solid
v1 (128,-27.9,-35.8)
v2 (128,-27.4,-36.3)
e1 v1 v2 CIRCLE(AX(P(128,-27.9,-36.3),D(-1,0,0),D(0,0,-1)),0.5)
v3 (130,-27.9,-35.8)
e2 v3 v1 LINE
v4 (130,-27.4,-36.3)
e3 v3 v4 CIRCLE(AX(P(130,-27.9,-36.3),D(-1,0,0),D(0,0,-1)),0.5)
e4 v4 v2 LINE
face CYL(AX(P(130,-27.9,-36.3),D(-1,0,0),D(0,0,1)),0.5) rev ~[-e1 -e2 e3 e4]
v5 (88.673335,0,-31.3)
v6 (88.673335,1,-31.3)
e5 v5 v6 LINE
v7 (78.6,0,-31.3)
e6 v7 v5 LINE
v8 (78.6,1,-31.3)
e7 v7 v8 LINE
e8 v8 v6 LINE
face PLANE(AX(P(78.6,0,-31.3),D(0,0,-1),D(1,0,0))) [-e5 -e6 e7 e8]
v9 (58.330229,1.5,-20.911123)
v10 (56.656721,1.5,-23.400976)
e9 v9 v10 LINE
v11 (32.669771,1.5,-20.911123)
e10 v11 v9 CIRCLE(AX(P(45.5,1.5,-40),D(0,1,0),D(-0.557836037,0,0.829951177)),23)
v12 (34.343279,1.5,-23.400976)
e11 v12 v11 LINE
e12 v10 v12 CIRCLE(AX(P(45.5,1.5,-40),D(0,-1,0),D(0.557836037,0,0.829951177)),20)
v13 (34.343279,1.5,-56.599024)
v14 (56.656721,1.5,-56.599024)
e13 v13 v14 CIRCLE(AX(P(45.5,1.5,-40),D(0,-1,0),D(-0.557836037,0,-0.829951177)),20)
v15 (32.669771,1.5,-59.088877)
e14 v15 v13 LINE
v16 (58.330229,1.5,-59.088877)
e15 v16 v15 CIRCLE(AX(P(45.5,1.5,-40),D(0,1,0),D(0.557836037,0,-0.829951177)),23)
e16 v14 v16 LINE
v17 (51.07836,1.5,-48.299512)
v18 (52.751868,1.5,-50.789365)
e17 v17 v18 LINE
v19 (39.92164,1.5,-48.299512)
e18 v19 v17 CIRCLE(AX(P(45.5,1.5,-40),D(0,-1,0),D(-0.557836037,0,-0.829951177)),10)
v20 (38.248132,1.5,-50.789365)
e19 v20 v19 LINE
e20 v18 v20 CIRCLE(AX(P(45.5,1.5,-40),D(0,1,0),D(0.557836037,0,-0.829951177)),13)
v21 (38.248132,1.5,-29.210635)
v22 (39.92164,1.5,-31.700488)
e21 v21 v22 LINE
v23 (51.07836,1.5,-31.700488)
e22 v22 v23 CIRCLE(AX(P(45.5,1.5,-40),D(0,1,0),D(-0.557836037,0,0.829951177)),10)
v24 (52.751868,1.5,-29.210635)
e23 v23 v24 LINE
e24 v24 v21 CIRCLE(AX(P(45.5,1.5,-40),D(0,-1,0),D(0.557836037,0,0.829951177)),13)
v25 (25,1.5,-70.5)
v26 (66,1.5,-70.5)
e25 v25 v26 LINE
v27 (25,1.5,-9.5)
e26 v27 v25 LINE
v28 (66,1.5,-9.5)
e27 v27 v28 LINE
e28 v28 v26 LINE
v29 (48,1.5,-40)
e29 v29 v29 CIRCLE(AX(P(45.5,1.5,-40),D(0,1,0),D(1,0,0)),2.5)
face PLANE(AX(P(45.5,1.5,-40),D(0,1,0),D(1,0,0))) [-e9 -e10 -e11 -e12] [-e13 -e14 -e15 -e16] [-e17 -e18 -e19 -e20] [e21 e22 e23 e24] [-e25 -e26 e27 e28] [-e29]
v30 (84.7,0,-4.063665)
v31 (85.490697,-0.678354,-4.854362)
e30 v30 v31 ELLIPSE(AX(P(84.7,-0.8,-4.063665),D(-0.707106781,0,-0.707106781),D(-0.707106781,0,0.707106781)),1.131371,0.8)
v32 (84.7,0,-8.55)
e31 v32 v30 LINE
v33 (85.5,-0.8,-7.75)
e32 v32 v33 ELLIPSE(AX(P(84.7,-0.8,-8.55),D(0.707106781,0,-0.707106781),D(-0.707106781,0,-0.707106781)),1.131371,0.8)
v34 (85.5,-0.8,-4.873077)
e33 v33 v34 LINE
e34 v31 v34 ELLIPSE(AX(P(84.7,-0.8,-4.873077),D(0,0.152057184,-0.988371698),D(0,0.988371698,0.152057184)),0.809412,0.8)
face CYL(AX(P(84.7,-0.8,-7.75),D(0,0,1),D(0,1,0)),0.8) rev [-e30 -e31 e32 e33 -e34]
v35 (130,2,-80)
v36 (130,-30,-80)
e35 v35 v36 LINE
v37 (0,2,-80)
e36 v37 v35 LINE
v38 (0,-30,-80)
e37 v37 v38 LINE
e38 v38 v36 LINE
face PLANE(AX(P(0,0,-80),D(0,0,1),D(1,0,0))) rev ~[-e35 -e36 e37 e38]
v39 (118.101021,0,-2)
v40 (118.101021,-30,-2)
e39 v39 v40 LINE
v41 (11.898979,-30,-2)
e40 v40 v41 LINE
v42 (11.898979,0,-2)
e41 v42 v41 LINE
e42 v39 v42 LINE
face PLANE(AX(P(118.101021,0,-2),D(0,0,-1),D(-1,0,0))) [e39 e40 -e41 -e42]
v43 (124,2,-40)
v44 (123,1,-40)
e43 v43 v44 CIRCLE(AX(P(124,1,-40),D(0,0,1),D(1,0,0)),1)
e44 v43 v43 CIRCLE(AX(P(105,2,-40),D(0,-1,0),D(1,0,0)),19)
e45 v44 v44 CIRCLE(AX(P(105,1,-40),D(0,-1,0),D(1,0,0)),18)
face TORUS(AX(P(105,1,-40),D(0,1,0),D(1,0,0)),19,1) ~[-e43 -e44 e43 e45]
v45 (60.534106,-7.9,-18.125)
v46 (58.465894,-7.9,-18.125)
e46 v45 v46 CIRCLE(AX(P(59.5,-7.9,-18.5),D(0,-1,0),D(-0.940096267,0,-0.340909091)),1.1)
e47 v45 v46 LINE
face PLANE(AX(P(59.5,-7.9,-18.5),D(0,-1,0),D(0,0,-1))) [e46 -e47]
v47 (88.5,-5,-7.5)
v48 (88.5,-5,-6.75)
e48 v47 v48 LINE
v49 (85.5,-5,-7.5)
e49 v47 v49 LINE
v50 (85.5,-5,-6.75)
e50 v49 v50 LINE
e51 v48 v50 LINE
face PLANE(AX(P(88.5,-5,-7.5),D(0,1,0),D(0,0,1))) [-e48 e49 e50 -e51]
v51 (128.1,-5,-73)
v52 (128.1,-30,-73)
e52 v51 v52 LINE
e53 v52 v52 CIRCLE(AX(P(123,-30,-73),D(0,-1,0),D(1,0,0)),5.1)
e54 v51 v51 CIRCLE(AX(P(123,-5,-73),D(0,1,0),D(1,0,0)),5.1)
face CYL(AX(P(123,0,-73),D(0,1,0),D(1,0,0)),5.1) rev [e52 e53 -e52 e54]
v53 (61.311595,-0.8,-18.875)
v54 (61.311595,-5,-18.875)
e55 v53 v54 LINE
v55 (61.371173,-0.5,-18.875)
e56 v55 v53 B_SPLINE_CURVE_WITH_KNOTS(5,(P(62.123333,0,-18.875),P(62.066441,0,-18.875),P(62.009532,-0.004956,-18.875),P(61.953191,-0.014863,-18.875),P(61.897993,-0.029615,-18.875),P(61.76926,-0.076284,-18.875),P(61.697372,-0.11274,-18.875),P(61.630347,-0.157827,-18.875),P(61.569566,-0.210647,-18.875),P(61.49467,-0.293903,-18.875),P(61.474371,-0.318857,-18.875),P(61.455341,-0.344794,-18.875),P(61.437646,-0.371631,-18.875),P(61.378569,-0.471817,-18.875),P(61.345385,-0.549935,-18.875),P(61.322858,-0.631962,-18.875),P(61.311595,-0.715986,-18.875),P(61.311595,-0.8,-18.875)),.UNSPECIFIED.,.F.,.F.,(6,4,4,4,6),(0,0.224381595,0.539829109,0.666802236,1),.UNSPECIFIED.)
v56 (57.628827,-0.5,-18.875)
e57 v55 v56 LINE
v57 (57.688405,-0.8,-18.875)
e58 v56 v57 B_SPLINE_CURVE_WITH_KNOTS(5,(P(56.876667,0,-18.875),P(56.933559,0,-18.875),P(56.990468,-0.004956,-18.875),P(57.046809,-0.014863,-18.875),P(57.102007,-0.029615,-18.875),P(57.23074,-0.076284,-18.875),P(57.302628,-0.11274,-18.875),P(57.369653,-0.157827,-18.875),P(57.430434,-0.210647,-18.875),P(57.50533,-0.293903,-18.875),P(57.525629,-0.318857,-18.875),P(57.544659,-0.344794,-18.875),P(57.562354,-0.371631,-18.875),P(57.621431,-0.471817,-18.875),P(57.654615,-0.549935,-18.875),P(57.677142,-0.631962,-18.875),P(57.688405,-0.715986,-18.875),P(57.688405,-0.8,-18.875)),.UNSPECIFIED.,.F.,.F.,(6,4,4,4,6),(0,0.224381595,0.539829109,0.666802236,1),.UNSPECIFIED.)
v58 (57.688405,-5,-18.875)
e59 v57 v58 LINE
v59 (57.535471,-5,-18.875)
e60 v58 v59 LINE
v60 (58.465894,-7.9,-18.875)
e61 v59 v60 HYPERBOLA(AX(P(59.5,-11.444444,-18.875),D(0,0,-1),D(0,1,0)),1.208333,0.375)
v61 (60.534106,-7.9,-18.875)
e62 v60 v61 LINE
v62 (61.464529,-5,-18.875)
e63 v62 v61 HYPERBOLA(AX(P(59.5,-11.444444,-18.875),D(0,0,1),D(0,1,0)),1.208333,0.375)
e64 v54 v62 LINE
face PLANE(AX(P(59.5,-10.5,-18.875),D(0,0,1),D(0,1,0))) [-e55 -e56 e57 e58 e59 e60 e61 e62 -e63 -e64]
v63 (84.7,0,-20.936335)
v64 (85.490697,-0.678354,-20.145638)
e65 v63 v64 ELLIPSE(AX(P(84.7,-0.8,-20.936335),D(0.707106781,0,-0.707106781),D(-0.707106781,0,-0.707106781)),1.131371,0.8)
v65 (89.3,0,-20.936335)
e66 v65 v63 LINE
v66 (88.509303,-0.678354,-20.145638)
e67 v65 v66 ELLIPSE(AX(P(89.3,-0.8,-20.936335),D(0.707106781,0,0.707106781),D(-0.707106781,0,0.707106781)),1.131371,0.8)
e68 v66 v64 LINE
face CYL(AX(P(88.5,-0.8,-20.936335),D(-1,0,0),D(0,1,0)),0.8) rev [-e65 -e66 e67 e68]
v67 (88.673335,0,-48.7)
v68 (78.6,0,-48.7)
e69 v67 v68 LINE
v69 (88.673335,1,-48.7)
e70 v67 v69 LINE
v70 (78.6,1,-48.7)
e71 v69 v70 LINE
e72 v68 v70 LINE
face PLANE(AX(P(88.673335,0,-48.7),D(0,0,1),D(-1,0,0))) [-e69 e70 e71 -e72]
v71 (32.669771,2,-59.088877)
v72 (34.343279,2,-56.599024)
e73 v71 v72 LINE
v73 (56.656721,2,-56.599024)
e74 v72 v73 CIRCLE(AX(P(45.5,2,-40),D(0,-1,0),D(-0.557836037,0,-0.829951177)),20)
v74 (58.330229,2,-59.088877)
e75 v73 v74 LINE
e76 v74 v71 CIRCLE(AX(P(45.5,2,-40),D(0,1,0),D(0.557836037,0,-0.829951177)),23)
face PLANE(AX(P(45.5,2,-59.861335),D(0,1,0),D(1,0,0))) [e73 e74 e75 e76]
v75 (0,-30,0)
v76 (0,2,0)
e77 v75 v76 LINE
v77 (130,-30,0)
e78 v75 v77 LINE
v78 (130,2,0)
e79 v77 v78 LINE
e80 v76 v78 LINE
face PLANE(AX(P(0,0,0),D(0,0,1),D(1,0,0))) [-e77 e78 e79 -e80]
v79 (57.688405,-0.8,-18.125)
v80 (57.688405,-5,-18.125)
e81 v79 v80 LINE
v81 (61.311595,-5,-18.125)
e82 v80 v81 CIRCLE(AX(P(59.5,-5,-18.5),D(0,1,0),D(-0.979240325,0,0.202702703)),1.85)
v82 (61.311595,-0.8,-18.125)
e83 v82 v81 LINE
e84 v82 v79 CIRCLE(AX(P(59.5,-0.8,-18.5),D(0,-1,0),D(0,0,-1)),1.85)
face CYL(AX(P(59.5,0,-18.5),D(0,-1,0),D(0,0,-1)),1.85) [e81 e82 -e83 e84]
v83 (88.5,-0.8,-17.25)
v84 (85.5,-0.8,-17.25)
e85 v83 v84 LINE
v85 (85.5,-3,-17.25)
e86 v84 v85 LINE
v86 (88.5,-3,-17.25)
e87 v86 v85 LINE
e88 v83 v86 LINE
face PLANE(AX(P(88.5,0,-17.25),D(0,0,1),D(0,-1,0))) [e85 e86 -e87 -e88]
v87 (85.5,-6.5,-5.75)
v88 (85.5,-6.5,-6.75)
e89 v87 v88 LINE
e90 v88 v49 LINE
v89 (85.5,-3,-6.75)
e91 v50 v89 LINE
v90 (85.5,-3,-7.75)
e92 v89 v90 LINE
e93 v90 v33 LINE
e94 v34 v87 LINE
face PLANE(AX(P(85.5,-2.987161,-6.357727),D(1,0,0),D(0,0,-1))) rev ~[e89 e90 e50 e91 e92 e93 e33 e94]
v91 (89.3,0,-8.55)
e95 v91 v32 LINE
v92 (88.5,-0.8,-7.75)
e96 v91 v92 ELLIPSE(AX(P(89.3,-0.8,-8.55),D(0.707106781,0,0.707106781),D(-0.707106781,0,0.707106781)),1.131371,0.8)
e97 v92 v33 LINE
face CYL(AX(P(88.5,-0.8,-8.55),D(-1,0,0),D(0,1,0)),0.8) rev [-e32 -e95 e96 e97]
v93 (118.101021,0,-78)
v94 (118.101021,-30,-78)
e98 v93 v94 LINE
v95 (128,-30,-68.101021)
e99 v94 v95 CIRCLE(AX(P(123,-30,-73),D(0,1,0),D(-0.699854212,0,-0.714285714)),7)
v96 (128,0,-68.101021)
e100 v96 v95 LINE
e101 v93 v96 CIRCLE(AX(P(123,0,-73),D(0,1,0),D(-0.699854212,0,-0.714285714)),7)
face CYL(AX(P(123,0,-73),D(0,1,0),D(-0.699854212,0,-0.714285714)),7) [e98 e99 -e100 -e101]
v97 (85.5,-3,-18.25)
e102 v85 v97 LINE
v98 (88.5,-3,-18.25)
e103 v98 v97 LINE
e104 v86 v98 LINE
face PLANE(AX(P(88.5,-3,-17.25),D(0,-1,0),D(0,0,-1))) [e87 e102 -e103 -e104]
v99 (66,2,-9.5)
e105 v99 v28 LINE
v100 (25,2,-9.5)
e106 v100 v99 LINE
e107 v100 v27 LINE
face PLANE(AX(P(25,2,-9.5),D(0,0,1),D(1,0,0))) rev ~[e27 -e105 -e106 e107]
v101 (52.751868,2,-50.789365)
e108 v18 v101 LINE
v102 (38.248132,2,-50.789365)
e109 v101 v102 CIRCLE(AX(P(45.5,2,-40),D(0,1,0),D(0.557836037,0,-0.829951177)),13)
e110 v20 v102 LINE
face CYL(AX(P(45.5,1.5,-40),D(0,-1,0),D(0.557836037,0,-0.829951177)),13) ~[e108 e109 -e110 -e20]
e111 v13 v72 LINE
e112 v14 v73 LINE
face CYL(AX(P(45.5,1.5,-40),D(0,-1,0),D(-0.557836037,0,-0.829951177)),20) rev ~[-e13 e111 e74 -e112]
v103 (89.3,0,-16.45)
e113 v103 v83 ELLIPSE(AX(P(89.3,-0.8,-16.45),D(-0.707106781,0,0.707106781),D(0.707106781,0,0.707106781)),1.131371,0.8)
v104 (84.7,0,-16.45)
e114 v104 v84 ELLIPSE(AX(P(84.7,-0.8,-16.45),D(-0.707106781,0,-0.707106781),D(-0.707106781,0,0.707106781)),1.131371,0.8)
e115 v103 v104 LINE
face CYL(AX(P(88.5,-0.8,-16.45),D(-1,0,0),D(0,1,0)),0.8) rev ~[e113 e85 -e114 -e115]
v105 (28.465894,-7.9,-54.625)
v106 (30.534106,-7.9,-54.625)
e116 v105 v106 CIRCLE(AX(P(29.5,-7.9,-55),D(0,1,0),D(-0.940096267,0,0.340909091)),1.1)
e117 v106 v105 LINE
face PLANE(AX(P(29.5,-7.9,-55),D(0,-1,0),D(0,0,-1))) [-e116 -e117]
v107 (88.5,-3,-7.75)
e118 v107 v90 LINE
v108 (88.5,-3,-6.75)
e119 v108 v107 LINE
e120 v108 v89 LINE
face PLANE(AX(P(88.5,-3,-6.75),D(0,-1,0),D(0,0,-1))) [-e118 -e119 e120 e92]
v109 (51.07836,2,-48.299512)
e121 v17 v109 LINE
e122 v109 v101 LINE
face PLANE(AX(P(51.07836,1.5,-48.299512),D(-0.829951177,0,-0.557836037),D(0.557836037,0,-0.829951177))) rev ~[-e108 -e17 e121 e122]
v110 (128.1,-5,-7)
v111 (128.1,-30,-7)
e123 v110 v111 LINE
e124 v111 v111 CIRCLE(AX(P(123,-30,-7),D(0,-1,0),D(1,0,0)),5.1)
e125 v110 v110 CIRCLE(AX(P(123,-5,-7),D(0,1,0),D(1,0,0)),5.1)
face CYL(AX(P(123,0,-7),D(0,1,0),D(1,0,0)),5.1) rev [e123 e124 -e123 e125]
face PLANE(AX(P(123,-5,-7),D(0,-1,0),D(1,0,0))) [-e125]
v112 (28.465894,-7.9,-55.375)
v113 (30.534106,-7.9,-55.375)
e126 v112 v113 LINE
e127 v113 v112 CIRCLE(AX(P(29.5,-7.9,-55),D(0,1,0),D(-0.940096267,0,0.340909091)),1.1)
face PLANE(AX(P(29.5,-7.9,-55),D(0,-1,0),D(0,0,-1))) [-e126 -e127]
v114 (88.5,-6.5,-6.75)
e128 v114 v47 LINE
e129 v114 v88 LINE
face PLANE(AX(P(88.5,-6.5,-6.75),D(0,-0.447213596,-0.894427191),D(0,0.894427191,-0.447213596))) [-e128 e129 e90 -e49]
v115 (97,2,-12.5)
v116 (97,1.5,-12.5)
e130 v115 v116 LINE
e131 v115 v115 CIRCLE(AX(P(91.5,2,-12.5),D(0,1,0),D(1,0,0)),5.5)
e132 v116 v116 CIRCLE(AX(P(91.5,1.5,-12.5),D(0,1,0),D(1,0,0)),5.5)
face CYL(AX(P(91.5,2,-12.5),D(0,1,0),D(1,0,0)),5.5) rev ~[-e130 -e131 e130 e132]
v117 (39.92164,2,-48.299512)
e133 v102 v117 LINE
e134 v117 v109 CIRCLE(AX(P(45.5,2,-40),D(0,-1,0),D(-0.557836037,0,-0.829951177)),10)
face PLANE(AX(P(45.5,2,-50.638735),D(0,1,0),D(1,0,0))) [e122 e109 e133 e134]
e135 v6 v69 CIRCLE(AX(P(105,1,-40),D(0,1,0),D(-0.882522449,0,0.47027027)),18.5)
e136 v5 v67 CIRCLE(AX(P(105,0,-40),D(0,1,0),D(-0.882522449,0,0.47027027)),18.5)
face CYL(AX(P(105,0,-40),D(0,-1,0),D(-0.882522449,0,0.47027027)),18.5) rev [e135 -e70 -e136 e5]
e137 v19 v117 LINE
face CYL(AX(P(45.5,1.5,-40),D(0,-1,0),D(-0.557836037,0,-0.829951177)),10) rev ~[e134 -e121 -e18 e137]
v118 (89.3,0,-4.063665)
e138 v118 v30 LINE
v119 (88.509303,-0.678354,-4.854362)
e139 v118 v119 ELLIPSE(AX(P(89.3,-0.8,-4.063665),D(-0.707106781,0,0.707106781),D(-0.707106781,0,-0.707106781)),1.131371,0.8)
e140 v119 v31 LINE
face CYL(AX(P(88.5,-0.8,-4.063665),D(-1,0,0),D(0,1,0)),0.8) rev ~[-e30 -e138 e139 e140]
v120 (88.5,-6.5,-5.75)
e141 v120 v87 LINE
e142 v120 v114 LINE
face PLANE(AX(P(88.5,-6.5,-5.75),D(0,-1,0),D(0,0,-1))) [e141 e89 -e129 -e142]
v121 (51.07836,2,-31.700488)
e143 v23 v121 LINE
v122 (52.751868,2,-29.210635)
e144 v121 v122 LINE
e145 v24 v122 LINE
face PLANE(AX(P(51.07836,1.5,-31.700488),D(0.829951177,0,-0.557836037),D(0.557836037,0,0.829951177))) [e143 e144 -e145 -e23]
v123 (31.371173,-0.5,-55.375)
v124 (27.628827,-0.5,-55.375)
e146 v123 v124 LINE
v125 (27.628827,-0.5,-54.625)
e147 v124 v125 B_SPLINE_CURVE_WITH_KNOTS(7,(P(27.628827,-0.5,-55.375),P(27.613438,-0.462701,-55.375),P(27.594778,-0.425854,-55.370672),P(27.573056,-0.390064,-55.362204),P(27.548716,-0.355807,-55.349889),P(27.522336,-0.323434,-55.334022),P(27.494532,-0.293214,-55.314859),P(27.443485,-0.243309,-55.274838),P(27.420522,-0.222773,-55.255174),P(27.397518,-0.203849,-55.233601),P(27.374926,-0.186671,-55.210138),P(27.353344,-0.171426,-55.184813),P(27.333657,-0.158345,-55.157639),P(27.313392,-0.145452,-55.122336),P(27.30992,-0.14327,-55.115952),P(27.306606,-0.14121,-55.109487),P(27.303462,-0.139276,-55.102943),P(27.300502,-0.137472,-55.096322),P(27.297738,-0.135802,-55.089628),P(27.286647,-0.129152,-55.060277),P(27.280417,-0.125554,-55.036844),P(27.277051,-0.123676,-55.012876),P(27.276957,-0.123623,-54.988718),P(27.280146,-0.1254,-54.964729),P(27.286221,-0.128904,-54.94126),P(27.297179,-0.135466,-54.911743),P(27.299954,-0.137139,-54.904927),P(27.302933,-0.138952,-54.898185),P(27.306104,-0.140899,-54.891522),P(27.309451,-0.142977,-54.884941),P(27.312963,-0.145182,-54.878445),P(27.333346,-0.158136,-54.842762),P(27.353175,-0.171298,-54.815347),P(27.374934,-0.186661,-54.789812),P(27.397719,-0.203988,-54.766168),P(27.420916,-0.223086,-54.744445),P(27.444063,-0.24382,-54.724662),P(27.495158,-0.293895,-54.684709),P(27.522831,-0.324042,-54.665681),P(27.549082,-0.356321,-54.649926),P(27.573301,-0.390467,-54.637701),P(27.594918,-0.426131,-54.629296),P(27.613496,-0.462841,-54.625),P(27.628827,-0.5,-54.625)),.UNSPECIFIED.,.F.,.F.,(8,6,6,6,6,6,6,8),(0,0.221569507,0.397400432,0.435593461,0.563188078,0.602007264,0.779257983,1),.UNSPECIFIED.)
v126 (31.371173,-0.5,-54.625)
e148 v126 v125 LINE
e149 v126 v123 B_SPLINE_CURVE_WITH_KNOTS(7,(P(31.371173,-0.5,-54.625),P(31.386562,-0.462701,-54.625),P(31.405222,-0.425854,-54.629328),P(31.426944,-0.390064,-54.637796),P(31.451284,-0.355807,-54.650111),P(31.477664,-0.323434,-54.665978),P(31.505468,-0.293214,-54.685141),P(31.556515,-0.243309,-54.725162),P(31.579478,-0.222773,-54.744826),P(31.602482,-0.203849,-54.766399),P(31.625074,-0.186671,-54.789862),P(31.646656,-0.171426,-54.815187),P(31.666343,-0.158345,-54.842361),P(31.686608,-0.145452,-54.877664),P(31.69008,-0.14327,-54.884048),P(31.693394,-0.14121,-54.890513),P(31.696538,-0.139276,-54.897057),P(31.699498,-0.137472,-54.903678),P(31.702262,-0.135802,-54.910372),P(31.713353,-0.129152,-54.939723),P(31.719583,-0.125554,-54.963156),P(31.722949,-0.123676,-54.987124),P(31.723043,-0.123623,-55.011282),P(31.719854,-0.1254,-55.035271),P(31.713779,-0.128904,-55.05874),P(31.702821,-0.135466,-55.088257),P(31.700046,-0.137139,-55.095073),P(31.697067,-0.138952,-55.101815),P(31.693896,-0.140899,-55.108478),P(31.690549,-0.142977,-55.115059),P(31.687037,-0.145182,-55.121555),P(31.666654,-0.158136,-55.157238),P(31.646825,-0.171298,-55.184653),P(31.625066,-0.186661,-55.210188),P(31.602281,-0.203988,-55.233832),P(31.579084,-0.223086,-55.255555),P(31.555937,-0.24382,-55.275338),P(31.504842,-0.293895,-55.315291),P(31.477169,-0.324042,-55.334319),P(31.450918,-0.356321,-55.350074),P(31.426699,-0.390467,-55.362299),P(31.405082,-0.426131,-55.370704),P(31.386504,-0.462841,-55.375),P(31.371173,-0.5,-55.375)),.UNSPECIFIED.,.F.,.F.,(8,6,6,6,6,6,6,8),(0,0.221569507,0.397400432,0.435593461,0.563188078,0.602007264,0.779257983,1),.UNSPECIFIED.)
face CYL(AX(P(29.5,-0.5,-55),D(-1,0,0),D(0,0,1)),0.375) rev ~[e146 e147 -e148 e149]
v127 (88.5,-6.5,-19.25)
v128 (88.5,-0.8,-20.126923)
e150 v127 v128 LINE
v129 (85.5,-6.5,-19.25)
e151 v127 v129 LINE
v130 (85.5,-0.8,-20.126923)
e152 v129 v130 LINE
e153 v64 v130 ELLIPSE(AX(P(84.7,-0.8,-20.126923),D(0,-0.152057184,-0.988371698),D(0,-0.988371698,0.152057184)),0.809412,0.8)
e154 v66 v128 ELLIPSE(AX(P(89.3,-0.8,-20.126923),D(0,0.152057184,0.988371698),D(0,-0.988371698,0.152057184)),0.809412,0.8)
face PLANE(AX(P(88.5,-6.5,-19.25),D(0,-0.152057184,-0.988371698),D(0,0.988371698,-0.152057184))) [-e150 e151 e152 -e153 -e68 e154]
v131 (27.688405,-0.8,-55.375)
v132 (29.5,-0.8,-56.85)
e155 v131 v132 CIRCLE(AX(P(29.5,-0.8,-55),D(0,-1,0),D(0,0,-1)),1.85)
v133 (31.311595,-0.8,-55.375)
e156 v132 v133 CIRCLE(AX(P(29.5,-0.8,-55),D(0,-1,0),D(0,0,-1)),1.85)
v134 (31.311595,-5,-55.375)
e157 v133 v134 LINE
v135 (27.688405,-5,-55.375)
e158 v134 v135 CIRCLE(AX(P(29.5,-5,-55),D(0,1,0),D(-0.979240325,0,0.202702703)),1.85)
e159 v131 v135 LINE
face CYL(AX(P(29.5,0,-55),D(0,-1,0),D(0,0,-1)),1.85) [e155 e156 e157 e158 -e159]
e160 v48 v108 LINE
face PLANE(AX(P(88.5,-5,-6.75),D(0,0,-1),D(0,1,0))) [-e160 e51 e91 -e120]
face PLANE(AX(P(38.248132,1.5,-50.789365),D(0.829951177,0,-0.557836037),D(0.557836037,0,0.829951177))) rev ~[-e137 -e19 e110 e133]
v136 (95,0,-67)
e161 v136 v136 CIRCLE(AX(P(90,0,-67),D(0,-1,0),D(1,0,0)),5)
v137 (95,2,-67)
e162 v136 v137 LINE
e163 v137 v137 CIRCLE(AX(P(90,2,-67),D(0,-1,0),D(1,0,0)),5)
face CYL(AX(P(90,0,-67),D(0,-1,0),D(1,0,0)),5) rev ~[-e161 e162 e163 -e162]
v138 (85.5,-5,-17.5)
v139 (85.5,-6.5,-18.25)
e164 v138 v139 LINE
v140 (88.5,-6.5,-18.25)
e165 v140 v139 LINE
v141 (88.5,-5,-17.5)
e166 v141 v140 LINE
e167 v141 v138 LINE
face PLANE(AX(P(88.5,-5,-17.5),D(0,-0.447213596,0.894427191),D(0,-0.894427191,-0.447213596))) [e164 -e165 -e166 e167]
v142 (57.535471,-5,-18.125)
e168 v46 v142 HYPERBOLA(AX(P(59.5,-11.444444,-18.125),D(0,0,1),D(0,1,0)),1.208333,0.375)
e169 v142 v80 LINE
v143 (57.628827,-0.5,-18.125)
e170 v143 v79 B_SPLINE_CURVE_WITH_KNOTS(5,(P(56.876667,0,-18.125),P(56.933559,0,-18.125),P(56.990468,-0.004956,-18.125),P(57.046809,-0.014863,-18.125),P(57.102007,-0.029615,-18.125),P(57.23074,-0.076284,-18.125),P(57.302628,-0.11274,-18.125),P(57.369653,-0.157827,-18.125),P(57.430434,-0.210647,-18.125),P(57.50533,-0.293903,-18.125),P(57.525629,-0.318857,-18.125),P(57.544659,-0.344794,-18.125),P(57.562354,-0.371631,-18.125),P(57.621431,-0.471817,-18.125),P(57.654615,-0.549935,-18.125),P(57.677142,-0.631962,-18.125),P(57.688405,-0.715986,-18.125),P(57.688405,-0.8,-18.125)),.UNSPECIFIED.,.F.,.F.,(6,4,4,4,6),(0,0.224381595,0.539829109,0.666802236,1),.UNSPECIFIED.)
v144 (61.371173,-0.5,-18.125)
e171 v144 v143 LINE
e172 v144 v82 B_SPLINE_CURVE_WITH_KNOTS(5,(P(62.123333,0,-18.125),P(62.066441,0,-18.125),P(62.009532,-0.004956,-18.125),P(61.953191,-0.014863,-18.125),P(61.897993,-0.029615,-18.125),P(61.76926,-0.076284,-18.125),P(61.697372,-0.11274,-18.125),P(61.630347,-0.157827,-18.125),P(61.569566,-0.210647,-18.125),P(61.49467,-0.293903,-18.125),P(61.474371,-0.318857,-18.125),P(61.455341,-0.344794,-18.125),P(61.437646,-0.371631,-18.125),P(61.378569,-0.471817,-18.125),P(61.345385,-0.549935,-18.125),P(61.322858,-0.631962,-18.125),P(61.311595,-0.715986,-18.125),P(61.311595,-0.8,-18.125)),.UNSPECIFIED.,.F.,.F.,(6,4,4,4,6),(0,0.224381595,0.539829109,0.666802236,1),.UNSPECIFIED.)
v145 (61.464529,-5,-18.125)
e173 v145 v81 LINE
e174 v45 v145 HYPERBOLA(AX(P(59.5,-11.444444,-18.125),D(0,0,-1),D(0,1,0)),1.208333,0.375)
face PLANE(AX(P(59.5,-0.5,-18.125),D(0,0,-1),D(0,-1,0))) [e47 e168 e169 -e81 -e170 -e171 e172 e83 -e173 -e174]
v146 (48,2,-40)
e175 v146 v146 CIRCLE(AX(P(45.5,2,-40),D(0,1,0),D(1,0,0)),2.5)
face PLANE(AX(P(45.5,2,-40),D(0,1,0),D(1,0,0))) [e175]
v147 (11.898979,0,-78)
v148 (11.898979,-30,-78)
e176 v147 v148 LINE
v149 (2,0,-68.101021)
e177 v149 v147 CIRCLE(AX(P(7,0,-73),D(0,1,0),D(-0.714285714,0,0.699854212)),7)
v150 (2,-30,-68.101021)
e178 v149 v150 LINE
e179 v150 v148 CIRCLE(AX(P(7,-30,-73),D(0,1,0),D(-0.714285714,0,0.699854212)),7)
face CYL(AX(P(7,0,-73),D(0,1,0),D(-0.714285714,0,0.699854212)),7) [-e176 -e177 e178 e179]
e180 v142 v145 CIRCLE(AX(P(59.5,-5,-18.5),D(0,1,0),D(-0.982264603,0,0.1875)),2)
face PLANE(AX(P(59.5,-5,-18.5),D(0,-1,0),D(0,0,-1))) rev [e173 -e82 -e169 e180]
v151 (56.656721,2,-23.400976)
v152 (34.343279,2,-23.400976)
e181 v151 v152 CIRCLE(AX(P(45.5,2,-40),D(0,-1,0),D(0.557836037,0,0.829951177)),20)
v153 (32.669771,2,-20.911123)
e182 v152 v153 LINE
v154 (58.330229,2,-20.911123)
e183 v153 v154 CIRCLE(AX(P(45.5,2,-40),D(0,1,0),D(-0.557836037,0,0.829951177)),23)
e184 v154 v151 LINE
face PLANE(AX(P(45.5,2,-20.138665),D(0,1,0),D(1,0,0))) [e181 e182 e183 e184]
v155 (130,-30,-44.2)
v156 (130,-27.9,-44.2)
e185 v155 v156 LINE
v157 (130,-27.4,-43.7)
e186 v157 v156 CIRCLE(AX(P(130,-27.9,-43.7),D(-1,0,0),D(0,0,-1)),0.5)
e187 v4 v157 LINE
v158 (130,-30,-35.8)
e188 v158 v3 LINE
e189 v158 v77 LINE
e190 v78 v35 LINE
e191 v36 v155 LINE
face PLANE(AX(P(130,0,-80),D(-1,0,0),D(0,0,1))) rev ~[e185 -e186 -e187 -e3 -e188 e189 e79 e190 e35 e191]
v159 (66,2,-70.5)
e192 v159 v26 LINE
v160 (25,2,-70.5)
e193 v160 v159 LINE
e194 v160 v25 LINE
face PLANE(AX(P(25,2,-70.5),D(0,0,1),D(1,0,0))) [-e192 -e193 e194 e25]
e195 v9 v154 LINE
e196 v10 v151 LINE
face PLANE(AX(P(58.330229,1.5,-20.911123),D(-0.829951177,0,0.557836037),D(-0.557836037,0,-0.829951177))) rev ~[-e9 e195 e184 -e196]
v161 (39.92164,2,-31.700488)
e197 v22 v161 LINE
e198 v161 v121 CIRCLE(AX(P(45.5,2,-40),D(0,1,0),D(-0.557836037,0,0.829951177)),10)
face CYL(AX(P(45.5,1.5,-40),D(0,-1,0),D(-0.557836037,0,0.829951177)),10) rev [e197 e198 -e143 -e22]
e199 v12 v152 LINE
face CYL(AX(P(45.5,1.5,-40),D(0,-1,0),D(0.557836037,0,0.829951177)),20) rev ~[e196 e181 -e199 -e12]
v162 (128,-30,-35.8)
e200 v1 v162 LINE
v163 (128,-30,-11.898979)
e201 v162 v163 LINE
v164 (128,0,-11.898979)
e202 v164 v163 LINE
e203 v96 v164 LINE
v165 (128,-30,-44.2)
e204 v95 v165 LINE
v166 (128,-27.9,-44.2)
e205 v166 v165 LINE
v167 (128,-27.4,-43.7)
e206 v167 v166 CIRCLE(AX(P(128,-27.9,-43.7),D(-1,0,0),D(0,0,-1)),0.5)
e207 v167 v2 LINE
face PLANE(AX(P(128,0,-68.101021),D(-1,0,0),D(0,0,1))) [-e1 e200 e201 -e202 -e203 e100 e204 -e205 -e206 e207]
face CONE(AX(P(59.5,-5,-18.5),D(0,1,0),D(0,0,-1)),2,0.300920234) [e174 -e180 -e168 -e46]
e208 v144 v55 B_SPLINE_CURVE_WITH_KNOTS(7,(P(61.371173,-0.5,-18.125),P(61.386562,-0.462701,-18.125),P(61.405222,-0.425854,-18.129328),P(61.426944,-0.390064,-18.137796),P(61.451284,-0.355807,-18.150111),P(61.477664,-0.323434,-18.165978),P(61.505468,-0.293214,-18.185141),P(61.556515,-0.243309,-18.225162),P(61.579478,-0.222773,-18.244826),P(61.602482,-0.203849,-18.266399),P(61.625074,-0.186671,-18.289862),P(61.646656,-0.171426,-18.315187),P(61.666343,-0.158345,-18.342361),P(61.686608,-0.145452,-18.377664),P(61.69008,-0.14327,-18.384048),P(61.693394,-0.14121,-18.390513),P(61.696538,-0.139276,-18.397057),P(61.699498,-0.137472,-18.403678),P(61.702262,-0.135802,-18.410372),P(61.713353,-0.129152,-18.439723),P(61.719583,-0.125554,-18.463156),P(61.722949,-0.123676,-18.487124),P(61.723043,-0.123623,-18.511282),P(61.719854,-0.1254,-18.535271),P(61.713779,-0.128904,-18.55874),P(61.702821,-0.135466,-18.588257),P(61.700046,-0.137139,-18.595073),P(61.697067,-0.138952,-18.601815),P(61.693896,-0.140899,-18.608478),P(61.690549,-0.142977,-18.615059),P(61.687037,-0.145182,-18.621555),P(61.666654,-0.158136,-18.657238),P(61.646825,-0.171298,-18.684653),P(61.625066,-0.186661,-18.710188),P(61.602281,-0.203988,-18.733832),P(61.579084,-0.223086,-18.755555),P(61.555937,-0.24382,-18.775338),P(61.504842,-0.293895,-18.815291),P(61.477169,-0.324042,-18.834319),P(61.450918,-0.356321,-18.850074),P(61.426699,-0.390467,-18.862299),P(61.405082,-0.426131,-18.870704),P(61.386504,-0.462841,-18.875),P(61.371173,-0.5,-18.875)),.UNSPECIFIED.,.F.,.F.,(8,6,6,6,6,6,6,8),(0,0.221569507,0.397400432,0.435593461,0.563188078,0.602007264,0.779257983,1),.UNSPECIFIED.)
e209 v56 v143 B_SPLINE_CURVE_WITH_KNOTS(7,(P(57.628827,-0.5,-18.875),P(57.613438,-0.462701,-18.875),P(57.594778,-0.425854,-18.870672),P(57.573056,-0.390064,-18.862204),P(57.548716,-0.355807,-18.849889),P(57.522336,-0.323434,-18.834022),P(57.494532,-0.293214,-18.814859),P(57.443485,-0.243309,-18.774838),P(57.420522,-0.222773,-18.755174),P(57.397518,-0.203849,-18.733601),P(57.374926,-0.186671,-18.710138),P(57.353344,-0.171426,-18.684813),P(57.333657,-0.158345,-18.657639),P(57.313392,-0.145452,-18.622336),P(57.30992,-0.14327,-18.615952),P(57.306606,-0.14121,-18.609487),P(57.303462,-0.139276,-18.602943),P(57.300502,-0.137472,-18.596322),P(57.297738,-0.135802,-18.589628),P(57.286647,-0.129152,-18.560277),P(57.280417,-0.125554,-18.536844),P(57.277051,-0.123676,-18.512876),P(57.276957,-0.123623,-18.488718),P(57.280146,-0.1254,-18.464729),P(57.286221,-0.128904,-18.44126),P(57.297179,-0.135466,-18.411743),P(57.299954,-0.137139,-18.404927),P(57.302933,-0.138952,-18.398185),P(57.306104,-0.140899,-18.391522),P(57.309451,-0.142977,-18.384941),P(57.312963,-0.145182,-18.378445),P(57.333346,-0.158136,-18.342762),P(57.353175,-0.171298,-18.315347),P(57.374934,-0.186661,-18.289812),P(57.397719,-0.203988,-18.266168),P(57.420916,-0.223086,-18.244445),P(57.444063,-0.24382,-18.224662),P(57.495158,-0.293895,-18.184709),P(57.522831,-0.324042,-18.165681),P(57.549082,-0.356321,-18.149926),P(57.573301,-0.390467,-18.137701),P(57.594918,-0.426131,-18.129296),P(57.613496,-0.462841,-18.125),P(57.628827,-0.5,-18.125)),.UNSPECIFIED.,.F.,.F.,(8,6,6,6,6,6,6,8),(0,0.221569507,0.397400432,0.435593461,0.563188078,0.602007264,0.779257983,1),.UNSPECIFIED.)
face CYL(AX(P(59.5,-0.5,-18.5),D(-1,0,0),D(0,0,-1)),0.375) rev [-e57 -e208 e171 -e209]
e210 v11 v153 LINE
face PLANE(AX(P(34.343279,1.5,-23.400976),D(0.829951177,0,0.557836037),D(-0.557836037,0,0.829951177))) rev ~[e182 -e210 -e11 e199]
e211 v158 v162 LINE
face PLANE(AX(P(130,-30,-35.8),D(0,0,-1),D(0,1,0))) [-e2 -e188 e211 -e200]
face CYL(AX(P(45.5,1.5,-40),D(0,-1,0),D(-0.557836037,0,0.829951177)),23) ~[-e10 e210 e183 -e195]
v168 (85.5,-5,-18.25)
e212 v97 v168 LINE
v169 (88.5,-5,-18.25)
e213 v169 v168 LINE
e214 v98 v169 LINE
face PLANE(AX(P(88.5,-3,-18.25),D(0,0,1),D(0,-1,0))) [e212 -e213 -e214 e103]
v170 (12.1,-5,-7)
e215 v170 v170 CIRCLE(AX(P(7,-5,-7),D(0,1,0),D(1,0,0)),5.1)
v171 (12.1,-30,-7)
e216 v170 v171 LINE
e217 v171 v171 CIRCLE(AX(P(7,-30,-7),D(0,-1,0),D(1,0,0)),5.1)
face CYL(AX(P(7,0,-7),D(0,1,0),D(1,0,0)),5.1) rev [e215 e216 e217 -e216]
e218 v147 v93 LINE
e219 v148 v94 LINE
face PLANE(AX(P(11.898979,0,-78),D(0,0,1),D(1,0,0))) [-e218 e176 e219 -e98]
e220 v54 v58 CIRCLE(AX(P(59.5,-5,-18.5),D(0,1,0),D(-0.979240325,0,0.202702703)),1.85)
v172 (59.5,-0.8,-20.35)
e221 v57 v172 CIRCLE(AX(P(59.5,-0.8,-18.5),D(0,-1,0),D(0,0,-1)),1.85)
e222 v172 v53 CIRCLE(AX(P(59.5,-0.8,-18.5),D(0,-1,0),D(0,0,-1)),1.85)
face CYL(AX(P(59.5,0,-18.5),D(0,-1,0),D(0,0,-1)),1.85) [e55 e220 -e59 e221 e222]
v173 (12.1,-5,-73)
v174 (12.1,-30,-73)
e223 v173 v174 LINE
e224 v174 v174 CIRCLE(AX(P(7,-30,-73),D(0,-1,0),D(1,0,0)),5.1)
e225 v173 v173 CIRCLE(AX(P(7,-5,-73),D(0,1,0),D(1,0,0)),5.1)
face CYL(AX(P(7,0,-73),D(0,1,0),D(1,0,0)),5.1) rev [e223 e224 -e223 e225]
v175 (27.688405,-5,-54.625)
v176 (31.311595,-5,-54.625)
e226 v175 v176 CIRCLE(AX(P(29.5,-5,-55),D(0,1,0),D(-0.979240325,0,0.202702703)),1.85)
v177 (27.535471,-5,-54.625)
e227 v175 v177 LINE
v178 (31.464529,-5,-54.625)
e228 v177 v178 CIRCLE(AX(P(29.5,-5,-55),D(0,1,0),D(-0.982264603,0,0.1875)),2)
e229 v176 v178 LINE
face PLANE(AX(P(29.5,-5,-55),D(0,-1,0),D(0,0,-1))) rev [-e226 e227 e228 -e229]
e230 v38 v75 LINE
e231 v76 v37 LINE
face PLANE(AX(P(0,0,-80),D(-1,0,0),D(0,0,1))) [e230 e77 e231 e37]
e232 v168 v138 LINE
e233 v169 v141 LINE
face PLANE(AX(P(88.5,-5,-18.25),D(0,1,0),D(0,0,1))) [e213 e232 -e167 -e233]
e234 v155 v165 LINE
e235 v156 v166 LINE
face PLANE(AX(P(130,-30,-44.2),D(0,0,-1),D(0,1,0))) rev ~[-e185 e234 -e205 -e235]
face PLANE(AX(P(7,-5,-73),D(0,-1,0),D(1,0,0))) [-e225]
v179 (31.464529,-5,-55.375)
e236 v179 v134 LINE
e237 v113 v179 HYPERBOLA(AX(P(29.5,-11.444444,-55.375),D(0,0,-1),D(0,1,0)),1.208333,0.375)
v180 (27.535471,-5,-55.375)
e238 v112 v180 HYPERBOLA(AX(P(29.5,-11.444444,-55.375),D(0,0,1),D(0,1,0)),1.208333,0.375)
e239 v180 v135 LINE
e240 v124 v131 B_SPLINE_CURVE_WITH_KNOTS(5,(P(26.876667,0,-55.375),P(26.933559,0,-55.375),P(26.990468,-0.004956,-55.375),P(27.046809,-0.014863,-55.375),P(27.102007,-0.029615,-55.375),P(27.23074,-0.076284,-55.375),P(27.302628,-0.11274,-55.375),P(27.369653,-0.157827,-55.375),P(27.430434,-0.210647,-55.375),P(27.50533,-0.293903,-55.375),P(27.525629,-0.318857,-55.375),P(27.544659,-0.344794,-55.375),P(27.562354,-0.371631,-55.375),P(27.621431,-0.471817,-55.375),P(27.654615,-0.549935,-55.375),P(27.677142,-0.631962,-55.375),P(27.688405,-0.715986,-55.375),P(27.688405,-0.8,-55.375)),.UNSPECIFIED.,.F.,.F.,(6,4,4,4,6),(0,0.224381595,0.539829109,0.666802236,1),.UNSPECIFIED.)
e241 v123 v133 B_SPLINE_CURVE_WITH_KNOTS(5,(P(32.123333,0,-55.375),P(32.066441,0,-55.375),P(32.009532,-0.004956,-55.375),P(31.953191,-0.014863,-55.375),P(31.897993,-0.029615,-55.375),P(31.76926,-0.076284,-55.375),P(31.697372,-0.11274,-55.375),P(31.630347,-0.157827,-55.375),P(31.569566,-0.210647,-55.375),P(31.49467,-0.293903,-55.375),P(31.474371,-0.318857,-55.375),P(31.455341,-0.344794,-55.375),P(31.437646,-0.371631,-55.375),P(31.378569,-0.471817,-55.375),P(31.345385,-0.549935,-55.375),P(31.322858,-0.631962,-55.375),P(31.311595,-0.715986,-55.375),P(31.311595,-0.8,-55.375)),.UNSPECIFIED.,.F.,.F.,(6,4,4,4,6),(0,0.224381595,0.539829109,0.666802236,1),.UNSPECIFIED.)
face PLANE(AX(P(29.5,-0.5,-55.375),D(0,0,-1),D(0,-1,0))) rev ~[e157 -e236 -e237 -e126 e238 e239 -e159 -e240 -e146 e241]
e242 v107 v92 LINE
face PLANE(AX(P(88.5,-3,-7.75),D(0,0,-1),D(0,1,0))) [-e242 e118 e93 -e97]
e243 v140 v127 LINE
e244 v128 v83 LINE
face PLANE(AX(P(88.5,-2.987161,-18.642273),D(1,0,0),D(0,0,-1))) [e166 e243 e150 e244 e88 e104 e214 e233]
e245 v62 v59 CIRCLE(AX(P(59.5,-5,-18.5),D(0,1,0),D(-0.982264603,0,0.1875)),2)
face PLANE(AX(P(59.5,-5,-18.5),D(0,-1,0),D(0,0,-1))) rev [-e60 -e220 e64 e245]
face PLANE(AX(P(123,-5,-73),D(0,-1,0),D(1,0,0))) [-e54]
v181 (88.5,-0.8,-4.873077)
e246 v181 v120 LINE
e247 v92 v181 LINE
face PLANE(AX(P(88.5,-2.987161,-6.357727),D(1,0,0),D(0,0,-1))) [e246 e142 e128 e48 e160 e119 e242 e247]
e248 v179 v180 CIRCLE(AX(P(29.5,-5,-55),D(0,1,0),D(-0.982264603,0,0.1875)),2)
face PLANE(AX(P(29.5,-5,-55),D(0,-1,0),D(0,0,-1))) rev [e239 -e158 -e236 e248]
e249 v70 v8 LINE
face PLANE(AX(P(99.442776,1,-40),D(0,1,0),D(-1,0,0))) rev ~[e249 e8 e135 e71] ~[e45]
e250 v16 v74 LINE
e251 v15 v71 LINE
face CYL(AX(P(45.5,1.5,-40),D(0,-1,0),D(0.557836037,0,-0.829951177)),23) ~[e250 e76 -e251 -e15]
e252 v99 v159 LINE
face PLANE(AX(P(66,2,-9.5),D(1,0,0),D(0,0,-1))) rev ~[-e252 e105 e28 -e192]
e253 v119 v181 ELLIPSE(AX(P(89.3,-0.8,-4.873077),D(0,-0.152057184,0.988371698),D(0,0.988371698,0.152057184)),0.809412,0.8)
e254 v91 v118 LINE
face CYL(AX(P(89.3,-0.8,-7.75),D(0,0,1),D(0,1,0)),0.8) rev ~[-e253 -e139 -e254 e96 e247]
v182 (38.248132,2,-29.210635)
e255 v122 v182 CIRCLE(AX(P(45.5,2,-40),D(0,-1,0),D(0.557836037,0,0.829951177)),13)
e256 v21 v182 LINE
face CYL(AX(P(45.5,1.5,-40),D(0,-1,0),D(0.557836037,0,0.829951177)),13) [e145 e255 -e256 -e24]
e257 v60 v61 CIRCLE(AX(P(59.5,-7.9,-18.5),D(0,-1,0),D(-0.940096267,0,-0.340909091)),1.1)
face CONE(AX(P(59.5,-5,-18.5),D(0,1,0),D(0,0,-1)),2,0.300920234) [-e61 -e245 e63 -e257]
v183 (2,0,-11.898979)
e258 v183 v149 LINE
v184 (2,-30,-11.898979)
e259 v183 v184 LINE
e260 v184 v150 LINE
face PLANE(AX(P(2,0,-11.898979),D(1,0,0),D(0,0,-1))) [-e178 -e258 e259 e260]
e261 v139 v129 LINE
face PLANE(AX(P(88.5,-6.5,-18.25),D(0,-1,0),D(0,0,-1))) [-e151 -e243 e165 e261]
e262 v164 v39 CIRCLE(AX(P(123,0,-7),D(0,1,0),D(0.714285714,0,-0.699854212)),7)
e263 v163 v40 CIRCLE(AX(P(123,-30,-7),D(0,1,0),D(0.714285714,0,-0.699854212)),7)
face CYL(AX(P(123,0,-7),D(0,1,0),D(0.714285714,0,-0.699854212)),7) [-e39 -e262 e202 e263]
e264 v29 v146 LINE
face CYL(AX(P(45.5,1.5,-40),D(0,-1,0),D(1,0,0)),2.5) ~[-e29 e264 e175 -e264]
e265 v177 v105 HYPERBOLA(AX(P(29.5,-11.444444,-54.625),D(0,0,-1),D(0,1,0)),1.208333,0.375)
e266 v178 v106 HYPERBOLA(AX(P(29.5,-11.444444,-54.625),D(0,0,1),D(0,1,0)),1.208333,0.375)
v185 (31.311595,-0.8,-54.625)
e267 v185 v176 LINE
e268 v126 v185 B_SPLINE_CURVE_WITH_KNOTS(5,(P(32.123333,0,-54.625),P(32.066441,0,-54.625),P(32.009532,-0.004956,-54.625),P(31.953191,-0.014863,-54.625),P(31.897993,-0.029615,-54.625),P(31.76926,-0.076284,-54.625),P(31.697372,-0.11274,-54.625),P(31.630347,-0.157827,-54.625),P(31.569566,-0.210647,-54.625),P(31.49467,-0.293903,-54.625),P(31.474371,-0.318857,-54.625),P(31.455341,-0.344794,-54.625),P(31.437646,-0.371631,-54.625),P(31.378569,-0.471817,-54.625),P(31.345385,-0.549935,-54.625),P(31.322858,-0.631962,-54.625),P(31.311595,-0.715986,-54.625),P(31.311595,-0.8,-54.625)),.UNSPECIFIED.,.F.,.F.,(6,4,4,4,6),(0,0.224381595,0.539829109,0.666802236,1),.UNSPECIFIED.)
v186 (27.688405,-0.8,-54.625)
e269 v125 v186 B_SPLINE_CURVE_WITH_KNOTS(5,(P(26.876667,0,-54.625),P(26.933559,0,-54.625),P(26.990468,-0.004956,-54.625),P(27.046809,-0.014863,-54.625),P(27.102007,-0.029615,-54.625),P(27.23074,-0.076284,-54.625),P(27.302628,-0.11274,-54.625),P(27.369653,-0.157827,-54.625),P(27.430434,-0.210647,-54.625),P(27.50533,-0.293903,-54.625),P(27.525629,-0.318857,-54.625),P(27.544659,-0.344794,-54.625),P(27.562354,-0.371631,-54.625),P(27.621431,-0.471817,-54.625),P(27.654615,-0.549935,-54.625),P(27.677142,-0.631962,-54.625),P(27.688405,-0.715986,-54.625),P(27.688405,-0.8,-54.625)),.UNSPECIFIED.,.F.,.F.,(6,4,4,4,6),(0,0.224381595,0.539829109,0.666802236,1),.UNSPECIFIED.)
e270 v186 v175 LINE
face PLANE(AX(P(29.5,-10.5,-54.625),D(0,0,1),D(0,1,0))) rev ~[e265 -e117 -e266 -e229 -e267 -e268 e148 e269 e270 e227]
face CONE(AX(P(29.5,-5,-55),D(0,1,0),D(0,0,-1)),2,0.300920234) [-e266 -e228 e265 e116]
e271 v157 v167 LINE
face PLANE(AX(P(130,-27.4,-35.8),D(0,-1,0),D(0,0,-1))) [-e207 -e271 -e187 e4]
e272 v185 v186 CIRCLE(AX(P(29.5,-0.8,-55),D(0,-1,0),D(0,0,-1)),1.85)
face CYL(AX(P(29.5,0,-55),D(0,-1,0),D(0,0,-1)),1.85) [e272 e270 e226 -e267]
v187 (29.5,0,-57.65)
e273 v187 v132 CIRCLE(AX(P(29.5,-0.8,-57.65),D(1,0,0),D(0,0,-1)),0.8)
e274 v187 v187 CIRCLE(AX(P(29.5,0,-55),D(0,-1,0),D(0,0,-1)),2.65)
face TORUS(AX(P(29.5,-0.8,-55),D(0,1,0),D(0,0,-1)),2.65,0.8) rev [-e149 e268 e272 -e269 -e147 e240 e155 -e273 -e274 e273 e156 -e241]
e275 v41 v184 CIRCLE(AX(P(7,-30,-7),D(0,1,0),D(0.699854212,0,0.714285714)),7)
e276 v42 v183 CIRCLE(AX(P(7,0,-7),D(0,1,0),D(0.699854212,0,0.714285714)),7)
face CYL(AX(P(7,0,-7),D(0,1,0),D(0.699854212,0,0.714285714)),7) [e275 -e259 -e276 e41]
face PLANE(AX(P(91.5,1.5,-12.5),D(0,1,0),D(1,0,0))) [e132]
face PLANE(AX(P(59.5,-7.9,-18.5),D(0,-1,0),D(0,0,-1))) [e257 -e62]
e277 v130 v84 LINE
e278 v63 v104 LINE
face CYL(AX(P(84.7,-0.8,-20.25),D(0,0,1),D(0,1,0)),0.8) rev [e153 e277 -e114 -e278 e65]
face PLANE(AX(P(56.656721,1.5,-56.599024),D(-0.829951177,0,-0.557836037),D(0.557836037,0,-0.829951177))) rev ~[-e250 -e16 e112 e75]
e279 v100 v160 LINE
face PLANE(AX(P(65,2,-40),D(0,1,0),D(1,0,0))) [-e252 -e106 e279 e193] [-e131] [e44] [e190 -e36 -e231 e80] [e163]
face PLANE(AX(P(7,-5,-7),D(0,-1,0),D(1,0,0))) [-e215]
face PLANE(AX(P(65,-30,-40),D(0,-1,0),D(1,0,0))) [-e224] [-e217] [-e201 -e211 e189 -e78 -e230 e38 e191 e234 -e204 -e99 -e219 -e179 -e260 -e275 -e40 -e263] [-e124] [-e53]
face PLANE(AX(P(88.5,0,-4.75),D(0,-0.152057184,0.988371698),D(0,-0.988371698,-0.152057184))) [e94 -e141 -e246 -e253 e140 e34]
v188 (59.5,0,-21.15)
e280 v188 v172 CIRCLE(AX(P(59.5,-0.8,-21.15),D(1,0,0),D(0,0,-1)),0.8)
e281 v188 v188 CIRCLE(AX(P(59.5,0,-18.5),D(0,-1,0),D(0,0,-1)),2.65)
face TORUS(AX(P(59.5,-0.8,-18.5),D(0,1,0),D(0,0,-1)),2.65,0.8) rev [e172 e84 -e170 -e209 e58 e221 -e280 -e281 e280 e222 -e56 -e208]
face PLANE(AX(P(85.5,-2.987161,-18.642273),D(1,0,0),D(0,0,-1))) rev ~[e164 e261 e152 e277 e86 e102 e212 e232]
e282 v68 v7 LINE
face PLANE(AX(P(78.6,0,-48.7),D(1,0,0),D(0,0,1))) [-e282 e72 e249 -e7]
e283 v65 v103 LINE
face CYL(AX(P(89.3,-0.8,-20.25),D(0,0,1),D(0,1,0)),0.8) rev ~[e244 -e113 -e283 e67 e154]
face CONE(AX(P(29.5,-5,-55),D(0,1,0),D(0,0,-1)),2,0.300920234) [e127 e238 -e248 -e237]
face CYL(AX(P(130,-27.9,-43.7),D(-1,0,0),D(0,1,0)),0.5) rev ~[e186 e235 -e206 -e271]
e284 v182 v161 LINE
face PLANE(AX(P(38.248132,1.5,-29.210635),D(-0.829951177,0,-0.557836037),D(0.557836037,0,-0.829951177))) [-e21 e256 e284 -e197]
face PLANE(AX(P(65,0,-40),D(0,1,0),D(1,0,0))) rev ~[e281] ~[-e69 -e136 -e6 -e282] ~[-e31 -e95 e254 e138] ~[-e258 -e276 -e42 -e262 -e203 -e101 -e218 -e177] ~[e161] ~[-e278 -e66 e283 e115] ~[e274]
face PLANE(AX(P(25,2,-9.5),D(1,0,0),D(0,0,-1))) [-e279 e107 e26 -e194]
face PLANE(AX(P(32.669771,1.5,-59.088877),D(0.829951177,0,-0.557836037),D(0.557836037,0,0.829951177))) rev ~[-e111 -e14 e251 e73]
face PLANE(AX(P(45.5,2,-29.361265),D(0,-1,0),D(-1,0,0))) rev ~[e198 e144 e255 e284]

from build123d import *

# Parameters (mm, degrees)
ESQUISSE1_W                  = 130
ESQUISSE1_H                  = 80
BOSS_EXTRU_1_DEPTH           = 2
ESQUISSE2_W                  = 130
ESQUISSE2_H                  = 80
ESQUISSE2_R                  = 5.1
BOSS_EXTRU_2_DEPTH           = 30
ESQUISSE8_R                  = 5.5
BOSS_EXTRU_6_DEPTH           = 5
ESQUISSE3_R                  = 18
ESQUISSE3_R_2                = 5
ENL_V_MAT_EXTRU_1_DEPTH      = 31
ENL_V_MAT_EXTRU_1_DEPTH_BACK = 3
CONG_1_R                     = 1
ESQUISSE5_R                  = 5.5
ESQUISSE5_W                  = 41
ESQUISSE5_H                  = 61
ENL_V_MAT_EXTRU_2_DEPTH      = 0.5
ESQUISSE7_R                  = 2.5
BOSS_EXTRU_5_DEPTH           = 0.5
ENL_V_MAT_EXTRU_3_DEPTH      = 1
BOSS_EXTRU_8_DEPTH           = 3
CONG_2_R                     = 0.8
CONG_3_R                     = 0.8
ENL_V_MAT_EXTRU_4_DEPTH      = 3
ENL_V_MAT_EXTRU_5_DEPTH      = 17
ENL_V_MAT_EXTRU_6_DEPTH      = 17
ENL_V_MAT_EXTRU_7_DEPTH      = 11
ESQUISSE23_W                 = 8.4
ESQUISSE23_H                 = 2.6
ENL_V_MAT_EXTRU_8_DEPTH      = 11
CONG_4_R                     = 0.5


with BuildPart() as part:
    # Esquisse1 → Boss.-Extru.1 (new body)
    with BuildSketch(Plane(origin=(0, 0, 0), x_dir=(1, 0, 0), z_dir=(0, 1, 0))):
        with Locations((65, 40)):
            Rectangle(ESQUISSE1_W, ESQUISSE1_H)
    extrude(amount=BOSS_EXTRU_1_DEPTH)

    # Esquisse2 → Boss.-Extru.2 (add)
    with BuildSketch(Plane.XZ):
        with Locations((65, -40)):
            Rectangle(ESQUISSE2_W, ESQUISSE2_H)
        with Locations((123, -7)):
            Circle(ESQUISSE2_R, mode=Mode.SUBTRACT)
        with Locations((123, -73)):
            Circle(ESQUISSE2_R, mode=Mode.SUBTRACT)
        with Locations((7, -7)):
            Circle(ESQUISSE2_R, mode=Mode.SUBTRACT)
        with Locations((7, -73)):
            Circle(ESQUISSE2_R, mode=Mode.SUBTRACT)
        with BuildLine():
            Line((11.898979486, -78), (118.101020514, -78))
            ThreePointArc((118.101020514, -78), (118.050252532, -68.050252532), (128, -68.101020514))
            Line((128, -68.101020514), (128, -11.898979486))
            ThreePointArc((128, -11.898979486), (118.050252532, -11.949747468), (118.101020514, -2))
            Line((118.101020514, -2), (11.898979486, -2))
            ThreePointArc((11.898979486, -2), (11.949747468, -11.949747468), (2, -11.898979486))
            Line((2, -11.898979486), (2, -68.101020514))
            ThreePointArc((2, -68.101020514), (11.949747468, -68.050252532), (11.898979486, -78))
        make_face(mode=Mode.SUBTRACT)
    extrude(amount=BOSS_EXTRU_2_DEPTH)

    # Esquisse8 → Boss.-Extru.6 (add)
    with BuildSketch(Plane.XZ):
        with Locations((123, -7)):
            Circle(ESQUISSE8_R)
        with Locations((7, -7)):
            Circle(ESQUISSE8_R)
        with Locations((7, -73)):
            Circle(ESQUISSE8_R)
        with Locations((123, -73)):
            Circle(ESQUISSE8_R)
    extrude(amount=BOSS_EXTRU_6_DEPTH)

    # Esquisse3 → Enl_v. mat.-Extru.1 (cut, two sides)
    with BuildSketch(Plane.XZ) as enl_v_mat_extru_1_sk:
        with Locations((105, -40)):
            Circle(ESQUISSE3_R)
        with Locations((90, -67)):
            Circle(ESQUISSE3_R_2)
    extrude(amount=ENL_V_MAT_EXTRU_1_DEPTH, mode=Mode.SUBTRACT)
    extrude(enl_v_mat_extru_1_sk.sketch, amount=-ENL_V_MAT_EXTRU_1_DEPTH_BACK, mode=Mode.SUBTRACT)

    # Cong_1
    cong_1_edges = [part.edges().sort_by_distance(p)[0] for p in [
        (87, 2, -40),
    ]]
    fillet(cong_1_edges, radius=CONG_1_R)

    # Esquisse5 → Enl_v. mat.-Extru.2 (cut)
    with BuildSketch(Plane(origin=(0, 2, 0), x_dir=(1, 0, 0), z_dir=(0, 1, 0))):
        with Locations((91.5, 12.5)):
            Circle(ESQUISSE5_R)
        with Locations((45.5, 40)):
            Rectangle(ESQUISSE5_W, ESQUISSE5_H)
    extrude(amount=-ENL_V_MAT_EXTRU_2_DEPTH, mode=Mode.SUBTRACT)

    # Esquisse7 → Boss.-Extru.5 (add)
    with BuildSketch(Plane(origin=(0, 1.5, 0), x_dir=(1, 0, 0), z_dir=(0, 1, 0))):
        with Locations((45.5, 40)):
            Circle(ESQUISSE7_R)
        with BuildLine():
            Line((32.669771151, 59.088877067), (34.343279262, 56.599023537))
            ThreePointArc((34.343279262, 56.599023537), (45.5, 60), (56.656720738, 56.599023537))
            Line((56.656720738, 56.599023537), (58.330228849, 59.088877067))
            ThreePointArc((58.330228849, 59.088877067), (45.5, 63), (32.669771151, 59.088877067))
        make_face()
        with BuildLine():
            Line((38.24813152, 50.789365299), (39.921639631, 48.299511768))
            ThreePointArc((39.921639631, 48.299511768), (45.5, 50), (51.078360369, 48.299511768))
            Line((51.078360369, 48.299511768), (52.75186848, 50.789365299))
            ThreePointArc((52.75186848, 50.789365299), (45.5, 53), (38.24813152, 50.789365299))
        make_face()
        with BuildLine():
            Line((51.078360369, 31.700488232), (52.75186848, 29.210634701))
            ThreePointArc((52.75186848, 29.210634701), (45.5, 27), (38.24813152, 29.210634701))
            Line((38.24813152, 29.210634701), (39.921639631, 31.700488232))
            ThreePointArc((39.921639631, 31.700488232), (45.5, 30), (51.078360369, 31.700488232))
        make_face()
        with BuildLine():
            Line((34.343279262, 23.400976463), (32.669771151, 20.911122933))
            ThreePointArc((32.669771151, 20.911122933), (45.5, 17), (58.330228849, 20.911122933))
            Line((58.330228849, 20.911122933), (56.656720738, 23.400976463))
            ThreePointArc((56.656720738, 23.400976463), (45.5, 20), (34.343279262, 23.400976463))
        make_face()
    extrude(amount=BOSS_EXTRU_5_DEPTH)

    # Esquisse9 → Enl_v. mat.-Extru.3 (cut)
    with BuildSketch(Plane.XZ):
        with BuildLine():
            Line((78.6, -31.3), (88.673334694, -31.3))
            ThreePointArc((88.673334694, -31.3), (123.5, -40), (88.673334694, -48.7))
            Line((88.673334694, -48.7), (78.6, -48.7))
            Line((78.6, -48.7), (78.6, -31.3))
        make_face()
    extrude(amount=-ENL_V_MAT_EXTRU_3_DEPTH, mode=Mode.SUBTRACT)

    # Esquisse18 → Boss.-Extru.8 (add)
    with BuildSketch(Plane.ZY.offset(-88.5)):
        Polygon((-7.75, 0), (-4.75, 0), (-5.75, -6.5), (-6.75, -6.5), (-7.5, -5), (-6.75, -5), (-6.75, -3), (-7.75, -3), align=None)
        Polygon((-17.25, 0), (-17.25, -3), (-18.25, -3), (-18.25, -5), (-17.5, -5), (-18.25, -6.5), (-19.25, -6.5), (-20.25, 0), align=None)
    extrude(amount=BOSS_EXTRU_8_DEPTH)

    # Cong_2
    cong_2_edges = [part.edges().sort_by_distance(p)[0] for p in [
        (88.5, 0, -6.25),
        (87, 0, -4.75),
        (87, 0, -7.75),
        (85.5, 0, -6.25),
        (88.5, 0, -18.75),
        (87, 0, -17.25),
        (87, 0, -20.25),
        (85.5, 0, -18.75),
    ]]
    fillet(cong_2_edges, radius=CONG_2_R)

    # Esquisse19 → R_volution1 (revolve)
    with BuildSketch(Plane(origin=(29.5, 0, 0), x_dir=(0, 0, -1), z_dir=(1, 0, 0))):
        Polygon((55, 0), (56.85, 0), (56.85, -5), (57, -5), (56.1, -7.9), (55, -7.9), align=None)
    revolve(axis=Axis((29.5, 0, -55), (0, -1, 0)))

    # Esquisse20 → R_volution2 (revolve)
    with BuildSketch(Plane(origin=(59.5, 0, 0), x_dir=(0, 0, -1), z_dir=(1, 0, 0))):
        Polygon((18.5, 0), (20.35, 0), (20.35, -5), (20.5, -5), (19.6, -7.9), (18.5, -7.9), align=None)
    revolve(axis=Axis((59.5, 0, -18.5), (0, -1, 0)))

    # Cong_3
    cong_3_edges = [part.edges().sort_by_distance(p)[0] for p in [
        (29.5, 0, -53.15),
        (59.5, 0, -16.65),
    ]]
    fillet(cong_3_edges, radius=CONG_3_R)

    # Esquisse21 → Enl_v. mat.-Extru.4 (cut)
    with BuildSketch(Plane(origin=(29.5, 0, 0), x_dir=(0, 0, -1), z_dir=(1, 0, 0))):
        with BuildLine():
            Line((54.625, -10.5), (54.625, -0.5))
            ThreePointArc((54.625, -0.5), (55, -0.125), (55.375, -0.5))
            Line((55.375, -0.5), (55.375, -10.5))
            Line((55.375, -10.5), (54.625, -10.5))
        make_face()
    extrude(amount=-ENL_V_MAT_EXTRU_4_DEPTH, mode=Mode.SUBTRACT)

    # Esquisse21_2 → Enl_v. mat.-Extru.5 (cut)
    with BuildSketch(Plane(origin=(29.5, 0, 0), x_dir=(0, 0, -1), z_dir=(1, 0, 0))):
        with BuildLine():
            Line((54.625, -10.5), (54.625, -0.5))
            ThreePointArc((54.625, -0.5), (55, -0.125), (55.375, -0.5))
            Line((55.375, -0.5), (55.375, -10.5))
            Line((55.375, -10.5), (54.625, -10.5))
        make_face()
    extrude(amount=ENL_V_MAT_EXTRU_5_DEPTH, mode=Mode.SUBTRACT)

    # Esquisse22 → Enl_v. mat.-Extru.6 (cut)
    with BuildSketch(Plane(origin=(59.5, 0, 0), x_dir=(0, 0, -1), z_dir=(1, 0, 0))):
        with BuildLine():
            Line((18.125, -0.5), (18.125, -10.5))
            Line((18.125, -10.5), (18.875, -10.5))
            Line((18.875, -10.5), (18.875, -0.5))
            ThreePointArc((18.875, -0.5), (18.5, -0.125), (18.125, -0.5))
        make_face()
    extrude(amount=-ENL_V_MAT_EXTRU_6_DEPTH, mode=Mode.SUBTRACT)

    # Esquisse22_2 → Enl_v. mat.-Extru.7 (cut)
    with BuildSketch(Plane(origin=(59.5, 0, 0), x_dir=(0, 0, -1), z_dir=(1, 0, 0))):
        with BuildLine():
            Line((18.125, -0.5), (18.125, -10.5))
            Line((18.125, -10.5), (18.875, -10.5))
            Line((18.875, -10.5), (18.875, -0.5))
            ThreePointArc((18.875, -0.5), (18.5, -0.125), (18.125, -0.5))
        make_face()
    extrude(amount=ENL_V_MAT_EXTRU_7_DEPTH, mode=Mode.SUBTRACT)

    # Esquisse23 → Enl_v. mat.-Extru.8 (cut)
    with BuildSketch(Plane(origin=(130, 0, 0), x_dir=(0, 0, -1), z_dir=(1, 0, 0))):
        with Locations((40, -28.7)):
            Rectangle(ESQUISSE23_W, ESQUISSE23_H)
    extrude(amount=-ENL_V_MAT_EXTRU_8_DEPTH, mode=Mode.SUBTRACT)

    # Cong_4
    cong_4_edges = [part.edges().sort_by_distance(p)[0] for p in [
        (129, -27.4, -35.8),
        (129, -27.4, -44.2),
    ]]
    fillet(cong_4_edges, radius=CONG_4_R)


solid = part.part
